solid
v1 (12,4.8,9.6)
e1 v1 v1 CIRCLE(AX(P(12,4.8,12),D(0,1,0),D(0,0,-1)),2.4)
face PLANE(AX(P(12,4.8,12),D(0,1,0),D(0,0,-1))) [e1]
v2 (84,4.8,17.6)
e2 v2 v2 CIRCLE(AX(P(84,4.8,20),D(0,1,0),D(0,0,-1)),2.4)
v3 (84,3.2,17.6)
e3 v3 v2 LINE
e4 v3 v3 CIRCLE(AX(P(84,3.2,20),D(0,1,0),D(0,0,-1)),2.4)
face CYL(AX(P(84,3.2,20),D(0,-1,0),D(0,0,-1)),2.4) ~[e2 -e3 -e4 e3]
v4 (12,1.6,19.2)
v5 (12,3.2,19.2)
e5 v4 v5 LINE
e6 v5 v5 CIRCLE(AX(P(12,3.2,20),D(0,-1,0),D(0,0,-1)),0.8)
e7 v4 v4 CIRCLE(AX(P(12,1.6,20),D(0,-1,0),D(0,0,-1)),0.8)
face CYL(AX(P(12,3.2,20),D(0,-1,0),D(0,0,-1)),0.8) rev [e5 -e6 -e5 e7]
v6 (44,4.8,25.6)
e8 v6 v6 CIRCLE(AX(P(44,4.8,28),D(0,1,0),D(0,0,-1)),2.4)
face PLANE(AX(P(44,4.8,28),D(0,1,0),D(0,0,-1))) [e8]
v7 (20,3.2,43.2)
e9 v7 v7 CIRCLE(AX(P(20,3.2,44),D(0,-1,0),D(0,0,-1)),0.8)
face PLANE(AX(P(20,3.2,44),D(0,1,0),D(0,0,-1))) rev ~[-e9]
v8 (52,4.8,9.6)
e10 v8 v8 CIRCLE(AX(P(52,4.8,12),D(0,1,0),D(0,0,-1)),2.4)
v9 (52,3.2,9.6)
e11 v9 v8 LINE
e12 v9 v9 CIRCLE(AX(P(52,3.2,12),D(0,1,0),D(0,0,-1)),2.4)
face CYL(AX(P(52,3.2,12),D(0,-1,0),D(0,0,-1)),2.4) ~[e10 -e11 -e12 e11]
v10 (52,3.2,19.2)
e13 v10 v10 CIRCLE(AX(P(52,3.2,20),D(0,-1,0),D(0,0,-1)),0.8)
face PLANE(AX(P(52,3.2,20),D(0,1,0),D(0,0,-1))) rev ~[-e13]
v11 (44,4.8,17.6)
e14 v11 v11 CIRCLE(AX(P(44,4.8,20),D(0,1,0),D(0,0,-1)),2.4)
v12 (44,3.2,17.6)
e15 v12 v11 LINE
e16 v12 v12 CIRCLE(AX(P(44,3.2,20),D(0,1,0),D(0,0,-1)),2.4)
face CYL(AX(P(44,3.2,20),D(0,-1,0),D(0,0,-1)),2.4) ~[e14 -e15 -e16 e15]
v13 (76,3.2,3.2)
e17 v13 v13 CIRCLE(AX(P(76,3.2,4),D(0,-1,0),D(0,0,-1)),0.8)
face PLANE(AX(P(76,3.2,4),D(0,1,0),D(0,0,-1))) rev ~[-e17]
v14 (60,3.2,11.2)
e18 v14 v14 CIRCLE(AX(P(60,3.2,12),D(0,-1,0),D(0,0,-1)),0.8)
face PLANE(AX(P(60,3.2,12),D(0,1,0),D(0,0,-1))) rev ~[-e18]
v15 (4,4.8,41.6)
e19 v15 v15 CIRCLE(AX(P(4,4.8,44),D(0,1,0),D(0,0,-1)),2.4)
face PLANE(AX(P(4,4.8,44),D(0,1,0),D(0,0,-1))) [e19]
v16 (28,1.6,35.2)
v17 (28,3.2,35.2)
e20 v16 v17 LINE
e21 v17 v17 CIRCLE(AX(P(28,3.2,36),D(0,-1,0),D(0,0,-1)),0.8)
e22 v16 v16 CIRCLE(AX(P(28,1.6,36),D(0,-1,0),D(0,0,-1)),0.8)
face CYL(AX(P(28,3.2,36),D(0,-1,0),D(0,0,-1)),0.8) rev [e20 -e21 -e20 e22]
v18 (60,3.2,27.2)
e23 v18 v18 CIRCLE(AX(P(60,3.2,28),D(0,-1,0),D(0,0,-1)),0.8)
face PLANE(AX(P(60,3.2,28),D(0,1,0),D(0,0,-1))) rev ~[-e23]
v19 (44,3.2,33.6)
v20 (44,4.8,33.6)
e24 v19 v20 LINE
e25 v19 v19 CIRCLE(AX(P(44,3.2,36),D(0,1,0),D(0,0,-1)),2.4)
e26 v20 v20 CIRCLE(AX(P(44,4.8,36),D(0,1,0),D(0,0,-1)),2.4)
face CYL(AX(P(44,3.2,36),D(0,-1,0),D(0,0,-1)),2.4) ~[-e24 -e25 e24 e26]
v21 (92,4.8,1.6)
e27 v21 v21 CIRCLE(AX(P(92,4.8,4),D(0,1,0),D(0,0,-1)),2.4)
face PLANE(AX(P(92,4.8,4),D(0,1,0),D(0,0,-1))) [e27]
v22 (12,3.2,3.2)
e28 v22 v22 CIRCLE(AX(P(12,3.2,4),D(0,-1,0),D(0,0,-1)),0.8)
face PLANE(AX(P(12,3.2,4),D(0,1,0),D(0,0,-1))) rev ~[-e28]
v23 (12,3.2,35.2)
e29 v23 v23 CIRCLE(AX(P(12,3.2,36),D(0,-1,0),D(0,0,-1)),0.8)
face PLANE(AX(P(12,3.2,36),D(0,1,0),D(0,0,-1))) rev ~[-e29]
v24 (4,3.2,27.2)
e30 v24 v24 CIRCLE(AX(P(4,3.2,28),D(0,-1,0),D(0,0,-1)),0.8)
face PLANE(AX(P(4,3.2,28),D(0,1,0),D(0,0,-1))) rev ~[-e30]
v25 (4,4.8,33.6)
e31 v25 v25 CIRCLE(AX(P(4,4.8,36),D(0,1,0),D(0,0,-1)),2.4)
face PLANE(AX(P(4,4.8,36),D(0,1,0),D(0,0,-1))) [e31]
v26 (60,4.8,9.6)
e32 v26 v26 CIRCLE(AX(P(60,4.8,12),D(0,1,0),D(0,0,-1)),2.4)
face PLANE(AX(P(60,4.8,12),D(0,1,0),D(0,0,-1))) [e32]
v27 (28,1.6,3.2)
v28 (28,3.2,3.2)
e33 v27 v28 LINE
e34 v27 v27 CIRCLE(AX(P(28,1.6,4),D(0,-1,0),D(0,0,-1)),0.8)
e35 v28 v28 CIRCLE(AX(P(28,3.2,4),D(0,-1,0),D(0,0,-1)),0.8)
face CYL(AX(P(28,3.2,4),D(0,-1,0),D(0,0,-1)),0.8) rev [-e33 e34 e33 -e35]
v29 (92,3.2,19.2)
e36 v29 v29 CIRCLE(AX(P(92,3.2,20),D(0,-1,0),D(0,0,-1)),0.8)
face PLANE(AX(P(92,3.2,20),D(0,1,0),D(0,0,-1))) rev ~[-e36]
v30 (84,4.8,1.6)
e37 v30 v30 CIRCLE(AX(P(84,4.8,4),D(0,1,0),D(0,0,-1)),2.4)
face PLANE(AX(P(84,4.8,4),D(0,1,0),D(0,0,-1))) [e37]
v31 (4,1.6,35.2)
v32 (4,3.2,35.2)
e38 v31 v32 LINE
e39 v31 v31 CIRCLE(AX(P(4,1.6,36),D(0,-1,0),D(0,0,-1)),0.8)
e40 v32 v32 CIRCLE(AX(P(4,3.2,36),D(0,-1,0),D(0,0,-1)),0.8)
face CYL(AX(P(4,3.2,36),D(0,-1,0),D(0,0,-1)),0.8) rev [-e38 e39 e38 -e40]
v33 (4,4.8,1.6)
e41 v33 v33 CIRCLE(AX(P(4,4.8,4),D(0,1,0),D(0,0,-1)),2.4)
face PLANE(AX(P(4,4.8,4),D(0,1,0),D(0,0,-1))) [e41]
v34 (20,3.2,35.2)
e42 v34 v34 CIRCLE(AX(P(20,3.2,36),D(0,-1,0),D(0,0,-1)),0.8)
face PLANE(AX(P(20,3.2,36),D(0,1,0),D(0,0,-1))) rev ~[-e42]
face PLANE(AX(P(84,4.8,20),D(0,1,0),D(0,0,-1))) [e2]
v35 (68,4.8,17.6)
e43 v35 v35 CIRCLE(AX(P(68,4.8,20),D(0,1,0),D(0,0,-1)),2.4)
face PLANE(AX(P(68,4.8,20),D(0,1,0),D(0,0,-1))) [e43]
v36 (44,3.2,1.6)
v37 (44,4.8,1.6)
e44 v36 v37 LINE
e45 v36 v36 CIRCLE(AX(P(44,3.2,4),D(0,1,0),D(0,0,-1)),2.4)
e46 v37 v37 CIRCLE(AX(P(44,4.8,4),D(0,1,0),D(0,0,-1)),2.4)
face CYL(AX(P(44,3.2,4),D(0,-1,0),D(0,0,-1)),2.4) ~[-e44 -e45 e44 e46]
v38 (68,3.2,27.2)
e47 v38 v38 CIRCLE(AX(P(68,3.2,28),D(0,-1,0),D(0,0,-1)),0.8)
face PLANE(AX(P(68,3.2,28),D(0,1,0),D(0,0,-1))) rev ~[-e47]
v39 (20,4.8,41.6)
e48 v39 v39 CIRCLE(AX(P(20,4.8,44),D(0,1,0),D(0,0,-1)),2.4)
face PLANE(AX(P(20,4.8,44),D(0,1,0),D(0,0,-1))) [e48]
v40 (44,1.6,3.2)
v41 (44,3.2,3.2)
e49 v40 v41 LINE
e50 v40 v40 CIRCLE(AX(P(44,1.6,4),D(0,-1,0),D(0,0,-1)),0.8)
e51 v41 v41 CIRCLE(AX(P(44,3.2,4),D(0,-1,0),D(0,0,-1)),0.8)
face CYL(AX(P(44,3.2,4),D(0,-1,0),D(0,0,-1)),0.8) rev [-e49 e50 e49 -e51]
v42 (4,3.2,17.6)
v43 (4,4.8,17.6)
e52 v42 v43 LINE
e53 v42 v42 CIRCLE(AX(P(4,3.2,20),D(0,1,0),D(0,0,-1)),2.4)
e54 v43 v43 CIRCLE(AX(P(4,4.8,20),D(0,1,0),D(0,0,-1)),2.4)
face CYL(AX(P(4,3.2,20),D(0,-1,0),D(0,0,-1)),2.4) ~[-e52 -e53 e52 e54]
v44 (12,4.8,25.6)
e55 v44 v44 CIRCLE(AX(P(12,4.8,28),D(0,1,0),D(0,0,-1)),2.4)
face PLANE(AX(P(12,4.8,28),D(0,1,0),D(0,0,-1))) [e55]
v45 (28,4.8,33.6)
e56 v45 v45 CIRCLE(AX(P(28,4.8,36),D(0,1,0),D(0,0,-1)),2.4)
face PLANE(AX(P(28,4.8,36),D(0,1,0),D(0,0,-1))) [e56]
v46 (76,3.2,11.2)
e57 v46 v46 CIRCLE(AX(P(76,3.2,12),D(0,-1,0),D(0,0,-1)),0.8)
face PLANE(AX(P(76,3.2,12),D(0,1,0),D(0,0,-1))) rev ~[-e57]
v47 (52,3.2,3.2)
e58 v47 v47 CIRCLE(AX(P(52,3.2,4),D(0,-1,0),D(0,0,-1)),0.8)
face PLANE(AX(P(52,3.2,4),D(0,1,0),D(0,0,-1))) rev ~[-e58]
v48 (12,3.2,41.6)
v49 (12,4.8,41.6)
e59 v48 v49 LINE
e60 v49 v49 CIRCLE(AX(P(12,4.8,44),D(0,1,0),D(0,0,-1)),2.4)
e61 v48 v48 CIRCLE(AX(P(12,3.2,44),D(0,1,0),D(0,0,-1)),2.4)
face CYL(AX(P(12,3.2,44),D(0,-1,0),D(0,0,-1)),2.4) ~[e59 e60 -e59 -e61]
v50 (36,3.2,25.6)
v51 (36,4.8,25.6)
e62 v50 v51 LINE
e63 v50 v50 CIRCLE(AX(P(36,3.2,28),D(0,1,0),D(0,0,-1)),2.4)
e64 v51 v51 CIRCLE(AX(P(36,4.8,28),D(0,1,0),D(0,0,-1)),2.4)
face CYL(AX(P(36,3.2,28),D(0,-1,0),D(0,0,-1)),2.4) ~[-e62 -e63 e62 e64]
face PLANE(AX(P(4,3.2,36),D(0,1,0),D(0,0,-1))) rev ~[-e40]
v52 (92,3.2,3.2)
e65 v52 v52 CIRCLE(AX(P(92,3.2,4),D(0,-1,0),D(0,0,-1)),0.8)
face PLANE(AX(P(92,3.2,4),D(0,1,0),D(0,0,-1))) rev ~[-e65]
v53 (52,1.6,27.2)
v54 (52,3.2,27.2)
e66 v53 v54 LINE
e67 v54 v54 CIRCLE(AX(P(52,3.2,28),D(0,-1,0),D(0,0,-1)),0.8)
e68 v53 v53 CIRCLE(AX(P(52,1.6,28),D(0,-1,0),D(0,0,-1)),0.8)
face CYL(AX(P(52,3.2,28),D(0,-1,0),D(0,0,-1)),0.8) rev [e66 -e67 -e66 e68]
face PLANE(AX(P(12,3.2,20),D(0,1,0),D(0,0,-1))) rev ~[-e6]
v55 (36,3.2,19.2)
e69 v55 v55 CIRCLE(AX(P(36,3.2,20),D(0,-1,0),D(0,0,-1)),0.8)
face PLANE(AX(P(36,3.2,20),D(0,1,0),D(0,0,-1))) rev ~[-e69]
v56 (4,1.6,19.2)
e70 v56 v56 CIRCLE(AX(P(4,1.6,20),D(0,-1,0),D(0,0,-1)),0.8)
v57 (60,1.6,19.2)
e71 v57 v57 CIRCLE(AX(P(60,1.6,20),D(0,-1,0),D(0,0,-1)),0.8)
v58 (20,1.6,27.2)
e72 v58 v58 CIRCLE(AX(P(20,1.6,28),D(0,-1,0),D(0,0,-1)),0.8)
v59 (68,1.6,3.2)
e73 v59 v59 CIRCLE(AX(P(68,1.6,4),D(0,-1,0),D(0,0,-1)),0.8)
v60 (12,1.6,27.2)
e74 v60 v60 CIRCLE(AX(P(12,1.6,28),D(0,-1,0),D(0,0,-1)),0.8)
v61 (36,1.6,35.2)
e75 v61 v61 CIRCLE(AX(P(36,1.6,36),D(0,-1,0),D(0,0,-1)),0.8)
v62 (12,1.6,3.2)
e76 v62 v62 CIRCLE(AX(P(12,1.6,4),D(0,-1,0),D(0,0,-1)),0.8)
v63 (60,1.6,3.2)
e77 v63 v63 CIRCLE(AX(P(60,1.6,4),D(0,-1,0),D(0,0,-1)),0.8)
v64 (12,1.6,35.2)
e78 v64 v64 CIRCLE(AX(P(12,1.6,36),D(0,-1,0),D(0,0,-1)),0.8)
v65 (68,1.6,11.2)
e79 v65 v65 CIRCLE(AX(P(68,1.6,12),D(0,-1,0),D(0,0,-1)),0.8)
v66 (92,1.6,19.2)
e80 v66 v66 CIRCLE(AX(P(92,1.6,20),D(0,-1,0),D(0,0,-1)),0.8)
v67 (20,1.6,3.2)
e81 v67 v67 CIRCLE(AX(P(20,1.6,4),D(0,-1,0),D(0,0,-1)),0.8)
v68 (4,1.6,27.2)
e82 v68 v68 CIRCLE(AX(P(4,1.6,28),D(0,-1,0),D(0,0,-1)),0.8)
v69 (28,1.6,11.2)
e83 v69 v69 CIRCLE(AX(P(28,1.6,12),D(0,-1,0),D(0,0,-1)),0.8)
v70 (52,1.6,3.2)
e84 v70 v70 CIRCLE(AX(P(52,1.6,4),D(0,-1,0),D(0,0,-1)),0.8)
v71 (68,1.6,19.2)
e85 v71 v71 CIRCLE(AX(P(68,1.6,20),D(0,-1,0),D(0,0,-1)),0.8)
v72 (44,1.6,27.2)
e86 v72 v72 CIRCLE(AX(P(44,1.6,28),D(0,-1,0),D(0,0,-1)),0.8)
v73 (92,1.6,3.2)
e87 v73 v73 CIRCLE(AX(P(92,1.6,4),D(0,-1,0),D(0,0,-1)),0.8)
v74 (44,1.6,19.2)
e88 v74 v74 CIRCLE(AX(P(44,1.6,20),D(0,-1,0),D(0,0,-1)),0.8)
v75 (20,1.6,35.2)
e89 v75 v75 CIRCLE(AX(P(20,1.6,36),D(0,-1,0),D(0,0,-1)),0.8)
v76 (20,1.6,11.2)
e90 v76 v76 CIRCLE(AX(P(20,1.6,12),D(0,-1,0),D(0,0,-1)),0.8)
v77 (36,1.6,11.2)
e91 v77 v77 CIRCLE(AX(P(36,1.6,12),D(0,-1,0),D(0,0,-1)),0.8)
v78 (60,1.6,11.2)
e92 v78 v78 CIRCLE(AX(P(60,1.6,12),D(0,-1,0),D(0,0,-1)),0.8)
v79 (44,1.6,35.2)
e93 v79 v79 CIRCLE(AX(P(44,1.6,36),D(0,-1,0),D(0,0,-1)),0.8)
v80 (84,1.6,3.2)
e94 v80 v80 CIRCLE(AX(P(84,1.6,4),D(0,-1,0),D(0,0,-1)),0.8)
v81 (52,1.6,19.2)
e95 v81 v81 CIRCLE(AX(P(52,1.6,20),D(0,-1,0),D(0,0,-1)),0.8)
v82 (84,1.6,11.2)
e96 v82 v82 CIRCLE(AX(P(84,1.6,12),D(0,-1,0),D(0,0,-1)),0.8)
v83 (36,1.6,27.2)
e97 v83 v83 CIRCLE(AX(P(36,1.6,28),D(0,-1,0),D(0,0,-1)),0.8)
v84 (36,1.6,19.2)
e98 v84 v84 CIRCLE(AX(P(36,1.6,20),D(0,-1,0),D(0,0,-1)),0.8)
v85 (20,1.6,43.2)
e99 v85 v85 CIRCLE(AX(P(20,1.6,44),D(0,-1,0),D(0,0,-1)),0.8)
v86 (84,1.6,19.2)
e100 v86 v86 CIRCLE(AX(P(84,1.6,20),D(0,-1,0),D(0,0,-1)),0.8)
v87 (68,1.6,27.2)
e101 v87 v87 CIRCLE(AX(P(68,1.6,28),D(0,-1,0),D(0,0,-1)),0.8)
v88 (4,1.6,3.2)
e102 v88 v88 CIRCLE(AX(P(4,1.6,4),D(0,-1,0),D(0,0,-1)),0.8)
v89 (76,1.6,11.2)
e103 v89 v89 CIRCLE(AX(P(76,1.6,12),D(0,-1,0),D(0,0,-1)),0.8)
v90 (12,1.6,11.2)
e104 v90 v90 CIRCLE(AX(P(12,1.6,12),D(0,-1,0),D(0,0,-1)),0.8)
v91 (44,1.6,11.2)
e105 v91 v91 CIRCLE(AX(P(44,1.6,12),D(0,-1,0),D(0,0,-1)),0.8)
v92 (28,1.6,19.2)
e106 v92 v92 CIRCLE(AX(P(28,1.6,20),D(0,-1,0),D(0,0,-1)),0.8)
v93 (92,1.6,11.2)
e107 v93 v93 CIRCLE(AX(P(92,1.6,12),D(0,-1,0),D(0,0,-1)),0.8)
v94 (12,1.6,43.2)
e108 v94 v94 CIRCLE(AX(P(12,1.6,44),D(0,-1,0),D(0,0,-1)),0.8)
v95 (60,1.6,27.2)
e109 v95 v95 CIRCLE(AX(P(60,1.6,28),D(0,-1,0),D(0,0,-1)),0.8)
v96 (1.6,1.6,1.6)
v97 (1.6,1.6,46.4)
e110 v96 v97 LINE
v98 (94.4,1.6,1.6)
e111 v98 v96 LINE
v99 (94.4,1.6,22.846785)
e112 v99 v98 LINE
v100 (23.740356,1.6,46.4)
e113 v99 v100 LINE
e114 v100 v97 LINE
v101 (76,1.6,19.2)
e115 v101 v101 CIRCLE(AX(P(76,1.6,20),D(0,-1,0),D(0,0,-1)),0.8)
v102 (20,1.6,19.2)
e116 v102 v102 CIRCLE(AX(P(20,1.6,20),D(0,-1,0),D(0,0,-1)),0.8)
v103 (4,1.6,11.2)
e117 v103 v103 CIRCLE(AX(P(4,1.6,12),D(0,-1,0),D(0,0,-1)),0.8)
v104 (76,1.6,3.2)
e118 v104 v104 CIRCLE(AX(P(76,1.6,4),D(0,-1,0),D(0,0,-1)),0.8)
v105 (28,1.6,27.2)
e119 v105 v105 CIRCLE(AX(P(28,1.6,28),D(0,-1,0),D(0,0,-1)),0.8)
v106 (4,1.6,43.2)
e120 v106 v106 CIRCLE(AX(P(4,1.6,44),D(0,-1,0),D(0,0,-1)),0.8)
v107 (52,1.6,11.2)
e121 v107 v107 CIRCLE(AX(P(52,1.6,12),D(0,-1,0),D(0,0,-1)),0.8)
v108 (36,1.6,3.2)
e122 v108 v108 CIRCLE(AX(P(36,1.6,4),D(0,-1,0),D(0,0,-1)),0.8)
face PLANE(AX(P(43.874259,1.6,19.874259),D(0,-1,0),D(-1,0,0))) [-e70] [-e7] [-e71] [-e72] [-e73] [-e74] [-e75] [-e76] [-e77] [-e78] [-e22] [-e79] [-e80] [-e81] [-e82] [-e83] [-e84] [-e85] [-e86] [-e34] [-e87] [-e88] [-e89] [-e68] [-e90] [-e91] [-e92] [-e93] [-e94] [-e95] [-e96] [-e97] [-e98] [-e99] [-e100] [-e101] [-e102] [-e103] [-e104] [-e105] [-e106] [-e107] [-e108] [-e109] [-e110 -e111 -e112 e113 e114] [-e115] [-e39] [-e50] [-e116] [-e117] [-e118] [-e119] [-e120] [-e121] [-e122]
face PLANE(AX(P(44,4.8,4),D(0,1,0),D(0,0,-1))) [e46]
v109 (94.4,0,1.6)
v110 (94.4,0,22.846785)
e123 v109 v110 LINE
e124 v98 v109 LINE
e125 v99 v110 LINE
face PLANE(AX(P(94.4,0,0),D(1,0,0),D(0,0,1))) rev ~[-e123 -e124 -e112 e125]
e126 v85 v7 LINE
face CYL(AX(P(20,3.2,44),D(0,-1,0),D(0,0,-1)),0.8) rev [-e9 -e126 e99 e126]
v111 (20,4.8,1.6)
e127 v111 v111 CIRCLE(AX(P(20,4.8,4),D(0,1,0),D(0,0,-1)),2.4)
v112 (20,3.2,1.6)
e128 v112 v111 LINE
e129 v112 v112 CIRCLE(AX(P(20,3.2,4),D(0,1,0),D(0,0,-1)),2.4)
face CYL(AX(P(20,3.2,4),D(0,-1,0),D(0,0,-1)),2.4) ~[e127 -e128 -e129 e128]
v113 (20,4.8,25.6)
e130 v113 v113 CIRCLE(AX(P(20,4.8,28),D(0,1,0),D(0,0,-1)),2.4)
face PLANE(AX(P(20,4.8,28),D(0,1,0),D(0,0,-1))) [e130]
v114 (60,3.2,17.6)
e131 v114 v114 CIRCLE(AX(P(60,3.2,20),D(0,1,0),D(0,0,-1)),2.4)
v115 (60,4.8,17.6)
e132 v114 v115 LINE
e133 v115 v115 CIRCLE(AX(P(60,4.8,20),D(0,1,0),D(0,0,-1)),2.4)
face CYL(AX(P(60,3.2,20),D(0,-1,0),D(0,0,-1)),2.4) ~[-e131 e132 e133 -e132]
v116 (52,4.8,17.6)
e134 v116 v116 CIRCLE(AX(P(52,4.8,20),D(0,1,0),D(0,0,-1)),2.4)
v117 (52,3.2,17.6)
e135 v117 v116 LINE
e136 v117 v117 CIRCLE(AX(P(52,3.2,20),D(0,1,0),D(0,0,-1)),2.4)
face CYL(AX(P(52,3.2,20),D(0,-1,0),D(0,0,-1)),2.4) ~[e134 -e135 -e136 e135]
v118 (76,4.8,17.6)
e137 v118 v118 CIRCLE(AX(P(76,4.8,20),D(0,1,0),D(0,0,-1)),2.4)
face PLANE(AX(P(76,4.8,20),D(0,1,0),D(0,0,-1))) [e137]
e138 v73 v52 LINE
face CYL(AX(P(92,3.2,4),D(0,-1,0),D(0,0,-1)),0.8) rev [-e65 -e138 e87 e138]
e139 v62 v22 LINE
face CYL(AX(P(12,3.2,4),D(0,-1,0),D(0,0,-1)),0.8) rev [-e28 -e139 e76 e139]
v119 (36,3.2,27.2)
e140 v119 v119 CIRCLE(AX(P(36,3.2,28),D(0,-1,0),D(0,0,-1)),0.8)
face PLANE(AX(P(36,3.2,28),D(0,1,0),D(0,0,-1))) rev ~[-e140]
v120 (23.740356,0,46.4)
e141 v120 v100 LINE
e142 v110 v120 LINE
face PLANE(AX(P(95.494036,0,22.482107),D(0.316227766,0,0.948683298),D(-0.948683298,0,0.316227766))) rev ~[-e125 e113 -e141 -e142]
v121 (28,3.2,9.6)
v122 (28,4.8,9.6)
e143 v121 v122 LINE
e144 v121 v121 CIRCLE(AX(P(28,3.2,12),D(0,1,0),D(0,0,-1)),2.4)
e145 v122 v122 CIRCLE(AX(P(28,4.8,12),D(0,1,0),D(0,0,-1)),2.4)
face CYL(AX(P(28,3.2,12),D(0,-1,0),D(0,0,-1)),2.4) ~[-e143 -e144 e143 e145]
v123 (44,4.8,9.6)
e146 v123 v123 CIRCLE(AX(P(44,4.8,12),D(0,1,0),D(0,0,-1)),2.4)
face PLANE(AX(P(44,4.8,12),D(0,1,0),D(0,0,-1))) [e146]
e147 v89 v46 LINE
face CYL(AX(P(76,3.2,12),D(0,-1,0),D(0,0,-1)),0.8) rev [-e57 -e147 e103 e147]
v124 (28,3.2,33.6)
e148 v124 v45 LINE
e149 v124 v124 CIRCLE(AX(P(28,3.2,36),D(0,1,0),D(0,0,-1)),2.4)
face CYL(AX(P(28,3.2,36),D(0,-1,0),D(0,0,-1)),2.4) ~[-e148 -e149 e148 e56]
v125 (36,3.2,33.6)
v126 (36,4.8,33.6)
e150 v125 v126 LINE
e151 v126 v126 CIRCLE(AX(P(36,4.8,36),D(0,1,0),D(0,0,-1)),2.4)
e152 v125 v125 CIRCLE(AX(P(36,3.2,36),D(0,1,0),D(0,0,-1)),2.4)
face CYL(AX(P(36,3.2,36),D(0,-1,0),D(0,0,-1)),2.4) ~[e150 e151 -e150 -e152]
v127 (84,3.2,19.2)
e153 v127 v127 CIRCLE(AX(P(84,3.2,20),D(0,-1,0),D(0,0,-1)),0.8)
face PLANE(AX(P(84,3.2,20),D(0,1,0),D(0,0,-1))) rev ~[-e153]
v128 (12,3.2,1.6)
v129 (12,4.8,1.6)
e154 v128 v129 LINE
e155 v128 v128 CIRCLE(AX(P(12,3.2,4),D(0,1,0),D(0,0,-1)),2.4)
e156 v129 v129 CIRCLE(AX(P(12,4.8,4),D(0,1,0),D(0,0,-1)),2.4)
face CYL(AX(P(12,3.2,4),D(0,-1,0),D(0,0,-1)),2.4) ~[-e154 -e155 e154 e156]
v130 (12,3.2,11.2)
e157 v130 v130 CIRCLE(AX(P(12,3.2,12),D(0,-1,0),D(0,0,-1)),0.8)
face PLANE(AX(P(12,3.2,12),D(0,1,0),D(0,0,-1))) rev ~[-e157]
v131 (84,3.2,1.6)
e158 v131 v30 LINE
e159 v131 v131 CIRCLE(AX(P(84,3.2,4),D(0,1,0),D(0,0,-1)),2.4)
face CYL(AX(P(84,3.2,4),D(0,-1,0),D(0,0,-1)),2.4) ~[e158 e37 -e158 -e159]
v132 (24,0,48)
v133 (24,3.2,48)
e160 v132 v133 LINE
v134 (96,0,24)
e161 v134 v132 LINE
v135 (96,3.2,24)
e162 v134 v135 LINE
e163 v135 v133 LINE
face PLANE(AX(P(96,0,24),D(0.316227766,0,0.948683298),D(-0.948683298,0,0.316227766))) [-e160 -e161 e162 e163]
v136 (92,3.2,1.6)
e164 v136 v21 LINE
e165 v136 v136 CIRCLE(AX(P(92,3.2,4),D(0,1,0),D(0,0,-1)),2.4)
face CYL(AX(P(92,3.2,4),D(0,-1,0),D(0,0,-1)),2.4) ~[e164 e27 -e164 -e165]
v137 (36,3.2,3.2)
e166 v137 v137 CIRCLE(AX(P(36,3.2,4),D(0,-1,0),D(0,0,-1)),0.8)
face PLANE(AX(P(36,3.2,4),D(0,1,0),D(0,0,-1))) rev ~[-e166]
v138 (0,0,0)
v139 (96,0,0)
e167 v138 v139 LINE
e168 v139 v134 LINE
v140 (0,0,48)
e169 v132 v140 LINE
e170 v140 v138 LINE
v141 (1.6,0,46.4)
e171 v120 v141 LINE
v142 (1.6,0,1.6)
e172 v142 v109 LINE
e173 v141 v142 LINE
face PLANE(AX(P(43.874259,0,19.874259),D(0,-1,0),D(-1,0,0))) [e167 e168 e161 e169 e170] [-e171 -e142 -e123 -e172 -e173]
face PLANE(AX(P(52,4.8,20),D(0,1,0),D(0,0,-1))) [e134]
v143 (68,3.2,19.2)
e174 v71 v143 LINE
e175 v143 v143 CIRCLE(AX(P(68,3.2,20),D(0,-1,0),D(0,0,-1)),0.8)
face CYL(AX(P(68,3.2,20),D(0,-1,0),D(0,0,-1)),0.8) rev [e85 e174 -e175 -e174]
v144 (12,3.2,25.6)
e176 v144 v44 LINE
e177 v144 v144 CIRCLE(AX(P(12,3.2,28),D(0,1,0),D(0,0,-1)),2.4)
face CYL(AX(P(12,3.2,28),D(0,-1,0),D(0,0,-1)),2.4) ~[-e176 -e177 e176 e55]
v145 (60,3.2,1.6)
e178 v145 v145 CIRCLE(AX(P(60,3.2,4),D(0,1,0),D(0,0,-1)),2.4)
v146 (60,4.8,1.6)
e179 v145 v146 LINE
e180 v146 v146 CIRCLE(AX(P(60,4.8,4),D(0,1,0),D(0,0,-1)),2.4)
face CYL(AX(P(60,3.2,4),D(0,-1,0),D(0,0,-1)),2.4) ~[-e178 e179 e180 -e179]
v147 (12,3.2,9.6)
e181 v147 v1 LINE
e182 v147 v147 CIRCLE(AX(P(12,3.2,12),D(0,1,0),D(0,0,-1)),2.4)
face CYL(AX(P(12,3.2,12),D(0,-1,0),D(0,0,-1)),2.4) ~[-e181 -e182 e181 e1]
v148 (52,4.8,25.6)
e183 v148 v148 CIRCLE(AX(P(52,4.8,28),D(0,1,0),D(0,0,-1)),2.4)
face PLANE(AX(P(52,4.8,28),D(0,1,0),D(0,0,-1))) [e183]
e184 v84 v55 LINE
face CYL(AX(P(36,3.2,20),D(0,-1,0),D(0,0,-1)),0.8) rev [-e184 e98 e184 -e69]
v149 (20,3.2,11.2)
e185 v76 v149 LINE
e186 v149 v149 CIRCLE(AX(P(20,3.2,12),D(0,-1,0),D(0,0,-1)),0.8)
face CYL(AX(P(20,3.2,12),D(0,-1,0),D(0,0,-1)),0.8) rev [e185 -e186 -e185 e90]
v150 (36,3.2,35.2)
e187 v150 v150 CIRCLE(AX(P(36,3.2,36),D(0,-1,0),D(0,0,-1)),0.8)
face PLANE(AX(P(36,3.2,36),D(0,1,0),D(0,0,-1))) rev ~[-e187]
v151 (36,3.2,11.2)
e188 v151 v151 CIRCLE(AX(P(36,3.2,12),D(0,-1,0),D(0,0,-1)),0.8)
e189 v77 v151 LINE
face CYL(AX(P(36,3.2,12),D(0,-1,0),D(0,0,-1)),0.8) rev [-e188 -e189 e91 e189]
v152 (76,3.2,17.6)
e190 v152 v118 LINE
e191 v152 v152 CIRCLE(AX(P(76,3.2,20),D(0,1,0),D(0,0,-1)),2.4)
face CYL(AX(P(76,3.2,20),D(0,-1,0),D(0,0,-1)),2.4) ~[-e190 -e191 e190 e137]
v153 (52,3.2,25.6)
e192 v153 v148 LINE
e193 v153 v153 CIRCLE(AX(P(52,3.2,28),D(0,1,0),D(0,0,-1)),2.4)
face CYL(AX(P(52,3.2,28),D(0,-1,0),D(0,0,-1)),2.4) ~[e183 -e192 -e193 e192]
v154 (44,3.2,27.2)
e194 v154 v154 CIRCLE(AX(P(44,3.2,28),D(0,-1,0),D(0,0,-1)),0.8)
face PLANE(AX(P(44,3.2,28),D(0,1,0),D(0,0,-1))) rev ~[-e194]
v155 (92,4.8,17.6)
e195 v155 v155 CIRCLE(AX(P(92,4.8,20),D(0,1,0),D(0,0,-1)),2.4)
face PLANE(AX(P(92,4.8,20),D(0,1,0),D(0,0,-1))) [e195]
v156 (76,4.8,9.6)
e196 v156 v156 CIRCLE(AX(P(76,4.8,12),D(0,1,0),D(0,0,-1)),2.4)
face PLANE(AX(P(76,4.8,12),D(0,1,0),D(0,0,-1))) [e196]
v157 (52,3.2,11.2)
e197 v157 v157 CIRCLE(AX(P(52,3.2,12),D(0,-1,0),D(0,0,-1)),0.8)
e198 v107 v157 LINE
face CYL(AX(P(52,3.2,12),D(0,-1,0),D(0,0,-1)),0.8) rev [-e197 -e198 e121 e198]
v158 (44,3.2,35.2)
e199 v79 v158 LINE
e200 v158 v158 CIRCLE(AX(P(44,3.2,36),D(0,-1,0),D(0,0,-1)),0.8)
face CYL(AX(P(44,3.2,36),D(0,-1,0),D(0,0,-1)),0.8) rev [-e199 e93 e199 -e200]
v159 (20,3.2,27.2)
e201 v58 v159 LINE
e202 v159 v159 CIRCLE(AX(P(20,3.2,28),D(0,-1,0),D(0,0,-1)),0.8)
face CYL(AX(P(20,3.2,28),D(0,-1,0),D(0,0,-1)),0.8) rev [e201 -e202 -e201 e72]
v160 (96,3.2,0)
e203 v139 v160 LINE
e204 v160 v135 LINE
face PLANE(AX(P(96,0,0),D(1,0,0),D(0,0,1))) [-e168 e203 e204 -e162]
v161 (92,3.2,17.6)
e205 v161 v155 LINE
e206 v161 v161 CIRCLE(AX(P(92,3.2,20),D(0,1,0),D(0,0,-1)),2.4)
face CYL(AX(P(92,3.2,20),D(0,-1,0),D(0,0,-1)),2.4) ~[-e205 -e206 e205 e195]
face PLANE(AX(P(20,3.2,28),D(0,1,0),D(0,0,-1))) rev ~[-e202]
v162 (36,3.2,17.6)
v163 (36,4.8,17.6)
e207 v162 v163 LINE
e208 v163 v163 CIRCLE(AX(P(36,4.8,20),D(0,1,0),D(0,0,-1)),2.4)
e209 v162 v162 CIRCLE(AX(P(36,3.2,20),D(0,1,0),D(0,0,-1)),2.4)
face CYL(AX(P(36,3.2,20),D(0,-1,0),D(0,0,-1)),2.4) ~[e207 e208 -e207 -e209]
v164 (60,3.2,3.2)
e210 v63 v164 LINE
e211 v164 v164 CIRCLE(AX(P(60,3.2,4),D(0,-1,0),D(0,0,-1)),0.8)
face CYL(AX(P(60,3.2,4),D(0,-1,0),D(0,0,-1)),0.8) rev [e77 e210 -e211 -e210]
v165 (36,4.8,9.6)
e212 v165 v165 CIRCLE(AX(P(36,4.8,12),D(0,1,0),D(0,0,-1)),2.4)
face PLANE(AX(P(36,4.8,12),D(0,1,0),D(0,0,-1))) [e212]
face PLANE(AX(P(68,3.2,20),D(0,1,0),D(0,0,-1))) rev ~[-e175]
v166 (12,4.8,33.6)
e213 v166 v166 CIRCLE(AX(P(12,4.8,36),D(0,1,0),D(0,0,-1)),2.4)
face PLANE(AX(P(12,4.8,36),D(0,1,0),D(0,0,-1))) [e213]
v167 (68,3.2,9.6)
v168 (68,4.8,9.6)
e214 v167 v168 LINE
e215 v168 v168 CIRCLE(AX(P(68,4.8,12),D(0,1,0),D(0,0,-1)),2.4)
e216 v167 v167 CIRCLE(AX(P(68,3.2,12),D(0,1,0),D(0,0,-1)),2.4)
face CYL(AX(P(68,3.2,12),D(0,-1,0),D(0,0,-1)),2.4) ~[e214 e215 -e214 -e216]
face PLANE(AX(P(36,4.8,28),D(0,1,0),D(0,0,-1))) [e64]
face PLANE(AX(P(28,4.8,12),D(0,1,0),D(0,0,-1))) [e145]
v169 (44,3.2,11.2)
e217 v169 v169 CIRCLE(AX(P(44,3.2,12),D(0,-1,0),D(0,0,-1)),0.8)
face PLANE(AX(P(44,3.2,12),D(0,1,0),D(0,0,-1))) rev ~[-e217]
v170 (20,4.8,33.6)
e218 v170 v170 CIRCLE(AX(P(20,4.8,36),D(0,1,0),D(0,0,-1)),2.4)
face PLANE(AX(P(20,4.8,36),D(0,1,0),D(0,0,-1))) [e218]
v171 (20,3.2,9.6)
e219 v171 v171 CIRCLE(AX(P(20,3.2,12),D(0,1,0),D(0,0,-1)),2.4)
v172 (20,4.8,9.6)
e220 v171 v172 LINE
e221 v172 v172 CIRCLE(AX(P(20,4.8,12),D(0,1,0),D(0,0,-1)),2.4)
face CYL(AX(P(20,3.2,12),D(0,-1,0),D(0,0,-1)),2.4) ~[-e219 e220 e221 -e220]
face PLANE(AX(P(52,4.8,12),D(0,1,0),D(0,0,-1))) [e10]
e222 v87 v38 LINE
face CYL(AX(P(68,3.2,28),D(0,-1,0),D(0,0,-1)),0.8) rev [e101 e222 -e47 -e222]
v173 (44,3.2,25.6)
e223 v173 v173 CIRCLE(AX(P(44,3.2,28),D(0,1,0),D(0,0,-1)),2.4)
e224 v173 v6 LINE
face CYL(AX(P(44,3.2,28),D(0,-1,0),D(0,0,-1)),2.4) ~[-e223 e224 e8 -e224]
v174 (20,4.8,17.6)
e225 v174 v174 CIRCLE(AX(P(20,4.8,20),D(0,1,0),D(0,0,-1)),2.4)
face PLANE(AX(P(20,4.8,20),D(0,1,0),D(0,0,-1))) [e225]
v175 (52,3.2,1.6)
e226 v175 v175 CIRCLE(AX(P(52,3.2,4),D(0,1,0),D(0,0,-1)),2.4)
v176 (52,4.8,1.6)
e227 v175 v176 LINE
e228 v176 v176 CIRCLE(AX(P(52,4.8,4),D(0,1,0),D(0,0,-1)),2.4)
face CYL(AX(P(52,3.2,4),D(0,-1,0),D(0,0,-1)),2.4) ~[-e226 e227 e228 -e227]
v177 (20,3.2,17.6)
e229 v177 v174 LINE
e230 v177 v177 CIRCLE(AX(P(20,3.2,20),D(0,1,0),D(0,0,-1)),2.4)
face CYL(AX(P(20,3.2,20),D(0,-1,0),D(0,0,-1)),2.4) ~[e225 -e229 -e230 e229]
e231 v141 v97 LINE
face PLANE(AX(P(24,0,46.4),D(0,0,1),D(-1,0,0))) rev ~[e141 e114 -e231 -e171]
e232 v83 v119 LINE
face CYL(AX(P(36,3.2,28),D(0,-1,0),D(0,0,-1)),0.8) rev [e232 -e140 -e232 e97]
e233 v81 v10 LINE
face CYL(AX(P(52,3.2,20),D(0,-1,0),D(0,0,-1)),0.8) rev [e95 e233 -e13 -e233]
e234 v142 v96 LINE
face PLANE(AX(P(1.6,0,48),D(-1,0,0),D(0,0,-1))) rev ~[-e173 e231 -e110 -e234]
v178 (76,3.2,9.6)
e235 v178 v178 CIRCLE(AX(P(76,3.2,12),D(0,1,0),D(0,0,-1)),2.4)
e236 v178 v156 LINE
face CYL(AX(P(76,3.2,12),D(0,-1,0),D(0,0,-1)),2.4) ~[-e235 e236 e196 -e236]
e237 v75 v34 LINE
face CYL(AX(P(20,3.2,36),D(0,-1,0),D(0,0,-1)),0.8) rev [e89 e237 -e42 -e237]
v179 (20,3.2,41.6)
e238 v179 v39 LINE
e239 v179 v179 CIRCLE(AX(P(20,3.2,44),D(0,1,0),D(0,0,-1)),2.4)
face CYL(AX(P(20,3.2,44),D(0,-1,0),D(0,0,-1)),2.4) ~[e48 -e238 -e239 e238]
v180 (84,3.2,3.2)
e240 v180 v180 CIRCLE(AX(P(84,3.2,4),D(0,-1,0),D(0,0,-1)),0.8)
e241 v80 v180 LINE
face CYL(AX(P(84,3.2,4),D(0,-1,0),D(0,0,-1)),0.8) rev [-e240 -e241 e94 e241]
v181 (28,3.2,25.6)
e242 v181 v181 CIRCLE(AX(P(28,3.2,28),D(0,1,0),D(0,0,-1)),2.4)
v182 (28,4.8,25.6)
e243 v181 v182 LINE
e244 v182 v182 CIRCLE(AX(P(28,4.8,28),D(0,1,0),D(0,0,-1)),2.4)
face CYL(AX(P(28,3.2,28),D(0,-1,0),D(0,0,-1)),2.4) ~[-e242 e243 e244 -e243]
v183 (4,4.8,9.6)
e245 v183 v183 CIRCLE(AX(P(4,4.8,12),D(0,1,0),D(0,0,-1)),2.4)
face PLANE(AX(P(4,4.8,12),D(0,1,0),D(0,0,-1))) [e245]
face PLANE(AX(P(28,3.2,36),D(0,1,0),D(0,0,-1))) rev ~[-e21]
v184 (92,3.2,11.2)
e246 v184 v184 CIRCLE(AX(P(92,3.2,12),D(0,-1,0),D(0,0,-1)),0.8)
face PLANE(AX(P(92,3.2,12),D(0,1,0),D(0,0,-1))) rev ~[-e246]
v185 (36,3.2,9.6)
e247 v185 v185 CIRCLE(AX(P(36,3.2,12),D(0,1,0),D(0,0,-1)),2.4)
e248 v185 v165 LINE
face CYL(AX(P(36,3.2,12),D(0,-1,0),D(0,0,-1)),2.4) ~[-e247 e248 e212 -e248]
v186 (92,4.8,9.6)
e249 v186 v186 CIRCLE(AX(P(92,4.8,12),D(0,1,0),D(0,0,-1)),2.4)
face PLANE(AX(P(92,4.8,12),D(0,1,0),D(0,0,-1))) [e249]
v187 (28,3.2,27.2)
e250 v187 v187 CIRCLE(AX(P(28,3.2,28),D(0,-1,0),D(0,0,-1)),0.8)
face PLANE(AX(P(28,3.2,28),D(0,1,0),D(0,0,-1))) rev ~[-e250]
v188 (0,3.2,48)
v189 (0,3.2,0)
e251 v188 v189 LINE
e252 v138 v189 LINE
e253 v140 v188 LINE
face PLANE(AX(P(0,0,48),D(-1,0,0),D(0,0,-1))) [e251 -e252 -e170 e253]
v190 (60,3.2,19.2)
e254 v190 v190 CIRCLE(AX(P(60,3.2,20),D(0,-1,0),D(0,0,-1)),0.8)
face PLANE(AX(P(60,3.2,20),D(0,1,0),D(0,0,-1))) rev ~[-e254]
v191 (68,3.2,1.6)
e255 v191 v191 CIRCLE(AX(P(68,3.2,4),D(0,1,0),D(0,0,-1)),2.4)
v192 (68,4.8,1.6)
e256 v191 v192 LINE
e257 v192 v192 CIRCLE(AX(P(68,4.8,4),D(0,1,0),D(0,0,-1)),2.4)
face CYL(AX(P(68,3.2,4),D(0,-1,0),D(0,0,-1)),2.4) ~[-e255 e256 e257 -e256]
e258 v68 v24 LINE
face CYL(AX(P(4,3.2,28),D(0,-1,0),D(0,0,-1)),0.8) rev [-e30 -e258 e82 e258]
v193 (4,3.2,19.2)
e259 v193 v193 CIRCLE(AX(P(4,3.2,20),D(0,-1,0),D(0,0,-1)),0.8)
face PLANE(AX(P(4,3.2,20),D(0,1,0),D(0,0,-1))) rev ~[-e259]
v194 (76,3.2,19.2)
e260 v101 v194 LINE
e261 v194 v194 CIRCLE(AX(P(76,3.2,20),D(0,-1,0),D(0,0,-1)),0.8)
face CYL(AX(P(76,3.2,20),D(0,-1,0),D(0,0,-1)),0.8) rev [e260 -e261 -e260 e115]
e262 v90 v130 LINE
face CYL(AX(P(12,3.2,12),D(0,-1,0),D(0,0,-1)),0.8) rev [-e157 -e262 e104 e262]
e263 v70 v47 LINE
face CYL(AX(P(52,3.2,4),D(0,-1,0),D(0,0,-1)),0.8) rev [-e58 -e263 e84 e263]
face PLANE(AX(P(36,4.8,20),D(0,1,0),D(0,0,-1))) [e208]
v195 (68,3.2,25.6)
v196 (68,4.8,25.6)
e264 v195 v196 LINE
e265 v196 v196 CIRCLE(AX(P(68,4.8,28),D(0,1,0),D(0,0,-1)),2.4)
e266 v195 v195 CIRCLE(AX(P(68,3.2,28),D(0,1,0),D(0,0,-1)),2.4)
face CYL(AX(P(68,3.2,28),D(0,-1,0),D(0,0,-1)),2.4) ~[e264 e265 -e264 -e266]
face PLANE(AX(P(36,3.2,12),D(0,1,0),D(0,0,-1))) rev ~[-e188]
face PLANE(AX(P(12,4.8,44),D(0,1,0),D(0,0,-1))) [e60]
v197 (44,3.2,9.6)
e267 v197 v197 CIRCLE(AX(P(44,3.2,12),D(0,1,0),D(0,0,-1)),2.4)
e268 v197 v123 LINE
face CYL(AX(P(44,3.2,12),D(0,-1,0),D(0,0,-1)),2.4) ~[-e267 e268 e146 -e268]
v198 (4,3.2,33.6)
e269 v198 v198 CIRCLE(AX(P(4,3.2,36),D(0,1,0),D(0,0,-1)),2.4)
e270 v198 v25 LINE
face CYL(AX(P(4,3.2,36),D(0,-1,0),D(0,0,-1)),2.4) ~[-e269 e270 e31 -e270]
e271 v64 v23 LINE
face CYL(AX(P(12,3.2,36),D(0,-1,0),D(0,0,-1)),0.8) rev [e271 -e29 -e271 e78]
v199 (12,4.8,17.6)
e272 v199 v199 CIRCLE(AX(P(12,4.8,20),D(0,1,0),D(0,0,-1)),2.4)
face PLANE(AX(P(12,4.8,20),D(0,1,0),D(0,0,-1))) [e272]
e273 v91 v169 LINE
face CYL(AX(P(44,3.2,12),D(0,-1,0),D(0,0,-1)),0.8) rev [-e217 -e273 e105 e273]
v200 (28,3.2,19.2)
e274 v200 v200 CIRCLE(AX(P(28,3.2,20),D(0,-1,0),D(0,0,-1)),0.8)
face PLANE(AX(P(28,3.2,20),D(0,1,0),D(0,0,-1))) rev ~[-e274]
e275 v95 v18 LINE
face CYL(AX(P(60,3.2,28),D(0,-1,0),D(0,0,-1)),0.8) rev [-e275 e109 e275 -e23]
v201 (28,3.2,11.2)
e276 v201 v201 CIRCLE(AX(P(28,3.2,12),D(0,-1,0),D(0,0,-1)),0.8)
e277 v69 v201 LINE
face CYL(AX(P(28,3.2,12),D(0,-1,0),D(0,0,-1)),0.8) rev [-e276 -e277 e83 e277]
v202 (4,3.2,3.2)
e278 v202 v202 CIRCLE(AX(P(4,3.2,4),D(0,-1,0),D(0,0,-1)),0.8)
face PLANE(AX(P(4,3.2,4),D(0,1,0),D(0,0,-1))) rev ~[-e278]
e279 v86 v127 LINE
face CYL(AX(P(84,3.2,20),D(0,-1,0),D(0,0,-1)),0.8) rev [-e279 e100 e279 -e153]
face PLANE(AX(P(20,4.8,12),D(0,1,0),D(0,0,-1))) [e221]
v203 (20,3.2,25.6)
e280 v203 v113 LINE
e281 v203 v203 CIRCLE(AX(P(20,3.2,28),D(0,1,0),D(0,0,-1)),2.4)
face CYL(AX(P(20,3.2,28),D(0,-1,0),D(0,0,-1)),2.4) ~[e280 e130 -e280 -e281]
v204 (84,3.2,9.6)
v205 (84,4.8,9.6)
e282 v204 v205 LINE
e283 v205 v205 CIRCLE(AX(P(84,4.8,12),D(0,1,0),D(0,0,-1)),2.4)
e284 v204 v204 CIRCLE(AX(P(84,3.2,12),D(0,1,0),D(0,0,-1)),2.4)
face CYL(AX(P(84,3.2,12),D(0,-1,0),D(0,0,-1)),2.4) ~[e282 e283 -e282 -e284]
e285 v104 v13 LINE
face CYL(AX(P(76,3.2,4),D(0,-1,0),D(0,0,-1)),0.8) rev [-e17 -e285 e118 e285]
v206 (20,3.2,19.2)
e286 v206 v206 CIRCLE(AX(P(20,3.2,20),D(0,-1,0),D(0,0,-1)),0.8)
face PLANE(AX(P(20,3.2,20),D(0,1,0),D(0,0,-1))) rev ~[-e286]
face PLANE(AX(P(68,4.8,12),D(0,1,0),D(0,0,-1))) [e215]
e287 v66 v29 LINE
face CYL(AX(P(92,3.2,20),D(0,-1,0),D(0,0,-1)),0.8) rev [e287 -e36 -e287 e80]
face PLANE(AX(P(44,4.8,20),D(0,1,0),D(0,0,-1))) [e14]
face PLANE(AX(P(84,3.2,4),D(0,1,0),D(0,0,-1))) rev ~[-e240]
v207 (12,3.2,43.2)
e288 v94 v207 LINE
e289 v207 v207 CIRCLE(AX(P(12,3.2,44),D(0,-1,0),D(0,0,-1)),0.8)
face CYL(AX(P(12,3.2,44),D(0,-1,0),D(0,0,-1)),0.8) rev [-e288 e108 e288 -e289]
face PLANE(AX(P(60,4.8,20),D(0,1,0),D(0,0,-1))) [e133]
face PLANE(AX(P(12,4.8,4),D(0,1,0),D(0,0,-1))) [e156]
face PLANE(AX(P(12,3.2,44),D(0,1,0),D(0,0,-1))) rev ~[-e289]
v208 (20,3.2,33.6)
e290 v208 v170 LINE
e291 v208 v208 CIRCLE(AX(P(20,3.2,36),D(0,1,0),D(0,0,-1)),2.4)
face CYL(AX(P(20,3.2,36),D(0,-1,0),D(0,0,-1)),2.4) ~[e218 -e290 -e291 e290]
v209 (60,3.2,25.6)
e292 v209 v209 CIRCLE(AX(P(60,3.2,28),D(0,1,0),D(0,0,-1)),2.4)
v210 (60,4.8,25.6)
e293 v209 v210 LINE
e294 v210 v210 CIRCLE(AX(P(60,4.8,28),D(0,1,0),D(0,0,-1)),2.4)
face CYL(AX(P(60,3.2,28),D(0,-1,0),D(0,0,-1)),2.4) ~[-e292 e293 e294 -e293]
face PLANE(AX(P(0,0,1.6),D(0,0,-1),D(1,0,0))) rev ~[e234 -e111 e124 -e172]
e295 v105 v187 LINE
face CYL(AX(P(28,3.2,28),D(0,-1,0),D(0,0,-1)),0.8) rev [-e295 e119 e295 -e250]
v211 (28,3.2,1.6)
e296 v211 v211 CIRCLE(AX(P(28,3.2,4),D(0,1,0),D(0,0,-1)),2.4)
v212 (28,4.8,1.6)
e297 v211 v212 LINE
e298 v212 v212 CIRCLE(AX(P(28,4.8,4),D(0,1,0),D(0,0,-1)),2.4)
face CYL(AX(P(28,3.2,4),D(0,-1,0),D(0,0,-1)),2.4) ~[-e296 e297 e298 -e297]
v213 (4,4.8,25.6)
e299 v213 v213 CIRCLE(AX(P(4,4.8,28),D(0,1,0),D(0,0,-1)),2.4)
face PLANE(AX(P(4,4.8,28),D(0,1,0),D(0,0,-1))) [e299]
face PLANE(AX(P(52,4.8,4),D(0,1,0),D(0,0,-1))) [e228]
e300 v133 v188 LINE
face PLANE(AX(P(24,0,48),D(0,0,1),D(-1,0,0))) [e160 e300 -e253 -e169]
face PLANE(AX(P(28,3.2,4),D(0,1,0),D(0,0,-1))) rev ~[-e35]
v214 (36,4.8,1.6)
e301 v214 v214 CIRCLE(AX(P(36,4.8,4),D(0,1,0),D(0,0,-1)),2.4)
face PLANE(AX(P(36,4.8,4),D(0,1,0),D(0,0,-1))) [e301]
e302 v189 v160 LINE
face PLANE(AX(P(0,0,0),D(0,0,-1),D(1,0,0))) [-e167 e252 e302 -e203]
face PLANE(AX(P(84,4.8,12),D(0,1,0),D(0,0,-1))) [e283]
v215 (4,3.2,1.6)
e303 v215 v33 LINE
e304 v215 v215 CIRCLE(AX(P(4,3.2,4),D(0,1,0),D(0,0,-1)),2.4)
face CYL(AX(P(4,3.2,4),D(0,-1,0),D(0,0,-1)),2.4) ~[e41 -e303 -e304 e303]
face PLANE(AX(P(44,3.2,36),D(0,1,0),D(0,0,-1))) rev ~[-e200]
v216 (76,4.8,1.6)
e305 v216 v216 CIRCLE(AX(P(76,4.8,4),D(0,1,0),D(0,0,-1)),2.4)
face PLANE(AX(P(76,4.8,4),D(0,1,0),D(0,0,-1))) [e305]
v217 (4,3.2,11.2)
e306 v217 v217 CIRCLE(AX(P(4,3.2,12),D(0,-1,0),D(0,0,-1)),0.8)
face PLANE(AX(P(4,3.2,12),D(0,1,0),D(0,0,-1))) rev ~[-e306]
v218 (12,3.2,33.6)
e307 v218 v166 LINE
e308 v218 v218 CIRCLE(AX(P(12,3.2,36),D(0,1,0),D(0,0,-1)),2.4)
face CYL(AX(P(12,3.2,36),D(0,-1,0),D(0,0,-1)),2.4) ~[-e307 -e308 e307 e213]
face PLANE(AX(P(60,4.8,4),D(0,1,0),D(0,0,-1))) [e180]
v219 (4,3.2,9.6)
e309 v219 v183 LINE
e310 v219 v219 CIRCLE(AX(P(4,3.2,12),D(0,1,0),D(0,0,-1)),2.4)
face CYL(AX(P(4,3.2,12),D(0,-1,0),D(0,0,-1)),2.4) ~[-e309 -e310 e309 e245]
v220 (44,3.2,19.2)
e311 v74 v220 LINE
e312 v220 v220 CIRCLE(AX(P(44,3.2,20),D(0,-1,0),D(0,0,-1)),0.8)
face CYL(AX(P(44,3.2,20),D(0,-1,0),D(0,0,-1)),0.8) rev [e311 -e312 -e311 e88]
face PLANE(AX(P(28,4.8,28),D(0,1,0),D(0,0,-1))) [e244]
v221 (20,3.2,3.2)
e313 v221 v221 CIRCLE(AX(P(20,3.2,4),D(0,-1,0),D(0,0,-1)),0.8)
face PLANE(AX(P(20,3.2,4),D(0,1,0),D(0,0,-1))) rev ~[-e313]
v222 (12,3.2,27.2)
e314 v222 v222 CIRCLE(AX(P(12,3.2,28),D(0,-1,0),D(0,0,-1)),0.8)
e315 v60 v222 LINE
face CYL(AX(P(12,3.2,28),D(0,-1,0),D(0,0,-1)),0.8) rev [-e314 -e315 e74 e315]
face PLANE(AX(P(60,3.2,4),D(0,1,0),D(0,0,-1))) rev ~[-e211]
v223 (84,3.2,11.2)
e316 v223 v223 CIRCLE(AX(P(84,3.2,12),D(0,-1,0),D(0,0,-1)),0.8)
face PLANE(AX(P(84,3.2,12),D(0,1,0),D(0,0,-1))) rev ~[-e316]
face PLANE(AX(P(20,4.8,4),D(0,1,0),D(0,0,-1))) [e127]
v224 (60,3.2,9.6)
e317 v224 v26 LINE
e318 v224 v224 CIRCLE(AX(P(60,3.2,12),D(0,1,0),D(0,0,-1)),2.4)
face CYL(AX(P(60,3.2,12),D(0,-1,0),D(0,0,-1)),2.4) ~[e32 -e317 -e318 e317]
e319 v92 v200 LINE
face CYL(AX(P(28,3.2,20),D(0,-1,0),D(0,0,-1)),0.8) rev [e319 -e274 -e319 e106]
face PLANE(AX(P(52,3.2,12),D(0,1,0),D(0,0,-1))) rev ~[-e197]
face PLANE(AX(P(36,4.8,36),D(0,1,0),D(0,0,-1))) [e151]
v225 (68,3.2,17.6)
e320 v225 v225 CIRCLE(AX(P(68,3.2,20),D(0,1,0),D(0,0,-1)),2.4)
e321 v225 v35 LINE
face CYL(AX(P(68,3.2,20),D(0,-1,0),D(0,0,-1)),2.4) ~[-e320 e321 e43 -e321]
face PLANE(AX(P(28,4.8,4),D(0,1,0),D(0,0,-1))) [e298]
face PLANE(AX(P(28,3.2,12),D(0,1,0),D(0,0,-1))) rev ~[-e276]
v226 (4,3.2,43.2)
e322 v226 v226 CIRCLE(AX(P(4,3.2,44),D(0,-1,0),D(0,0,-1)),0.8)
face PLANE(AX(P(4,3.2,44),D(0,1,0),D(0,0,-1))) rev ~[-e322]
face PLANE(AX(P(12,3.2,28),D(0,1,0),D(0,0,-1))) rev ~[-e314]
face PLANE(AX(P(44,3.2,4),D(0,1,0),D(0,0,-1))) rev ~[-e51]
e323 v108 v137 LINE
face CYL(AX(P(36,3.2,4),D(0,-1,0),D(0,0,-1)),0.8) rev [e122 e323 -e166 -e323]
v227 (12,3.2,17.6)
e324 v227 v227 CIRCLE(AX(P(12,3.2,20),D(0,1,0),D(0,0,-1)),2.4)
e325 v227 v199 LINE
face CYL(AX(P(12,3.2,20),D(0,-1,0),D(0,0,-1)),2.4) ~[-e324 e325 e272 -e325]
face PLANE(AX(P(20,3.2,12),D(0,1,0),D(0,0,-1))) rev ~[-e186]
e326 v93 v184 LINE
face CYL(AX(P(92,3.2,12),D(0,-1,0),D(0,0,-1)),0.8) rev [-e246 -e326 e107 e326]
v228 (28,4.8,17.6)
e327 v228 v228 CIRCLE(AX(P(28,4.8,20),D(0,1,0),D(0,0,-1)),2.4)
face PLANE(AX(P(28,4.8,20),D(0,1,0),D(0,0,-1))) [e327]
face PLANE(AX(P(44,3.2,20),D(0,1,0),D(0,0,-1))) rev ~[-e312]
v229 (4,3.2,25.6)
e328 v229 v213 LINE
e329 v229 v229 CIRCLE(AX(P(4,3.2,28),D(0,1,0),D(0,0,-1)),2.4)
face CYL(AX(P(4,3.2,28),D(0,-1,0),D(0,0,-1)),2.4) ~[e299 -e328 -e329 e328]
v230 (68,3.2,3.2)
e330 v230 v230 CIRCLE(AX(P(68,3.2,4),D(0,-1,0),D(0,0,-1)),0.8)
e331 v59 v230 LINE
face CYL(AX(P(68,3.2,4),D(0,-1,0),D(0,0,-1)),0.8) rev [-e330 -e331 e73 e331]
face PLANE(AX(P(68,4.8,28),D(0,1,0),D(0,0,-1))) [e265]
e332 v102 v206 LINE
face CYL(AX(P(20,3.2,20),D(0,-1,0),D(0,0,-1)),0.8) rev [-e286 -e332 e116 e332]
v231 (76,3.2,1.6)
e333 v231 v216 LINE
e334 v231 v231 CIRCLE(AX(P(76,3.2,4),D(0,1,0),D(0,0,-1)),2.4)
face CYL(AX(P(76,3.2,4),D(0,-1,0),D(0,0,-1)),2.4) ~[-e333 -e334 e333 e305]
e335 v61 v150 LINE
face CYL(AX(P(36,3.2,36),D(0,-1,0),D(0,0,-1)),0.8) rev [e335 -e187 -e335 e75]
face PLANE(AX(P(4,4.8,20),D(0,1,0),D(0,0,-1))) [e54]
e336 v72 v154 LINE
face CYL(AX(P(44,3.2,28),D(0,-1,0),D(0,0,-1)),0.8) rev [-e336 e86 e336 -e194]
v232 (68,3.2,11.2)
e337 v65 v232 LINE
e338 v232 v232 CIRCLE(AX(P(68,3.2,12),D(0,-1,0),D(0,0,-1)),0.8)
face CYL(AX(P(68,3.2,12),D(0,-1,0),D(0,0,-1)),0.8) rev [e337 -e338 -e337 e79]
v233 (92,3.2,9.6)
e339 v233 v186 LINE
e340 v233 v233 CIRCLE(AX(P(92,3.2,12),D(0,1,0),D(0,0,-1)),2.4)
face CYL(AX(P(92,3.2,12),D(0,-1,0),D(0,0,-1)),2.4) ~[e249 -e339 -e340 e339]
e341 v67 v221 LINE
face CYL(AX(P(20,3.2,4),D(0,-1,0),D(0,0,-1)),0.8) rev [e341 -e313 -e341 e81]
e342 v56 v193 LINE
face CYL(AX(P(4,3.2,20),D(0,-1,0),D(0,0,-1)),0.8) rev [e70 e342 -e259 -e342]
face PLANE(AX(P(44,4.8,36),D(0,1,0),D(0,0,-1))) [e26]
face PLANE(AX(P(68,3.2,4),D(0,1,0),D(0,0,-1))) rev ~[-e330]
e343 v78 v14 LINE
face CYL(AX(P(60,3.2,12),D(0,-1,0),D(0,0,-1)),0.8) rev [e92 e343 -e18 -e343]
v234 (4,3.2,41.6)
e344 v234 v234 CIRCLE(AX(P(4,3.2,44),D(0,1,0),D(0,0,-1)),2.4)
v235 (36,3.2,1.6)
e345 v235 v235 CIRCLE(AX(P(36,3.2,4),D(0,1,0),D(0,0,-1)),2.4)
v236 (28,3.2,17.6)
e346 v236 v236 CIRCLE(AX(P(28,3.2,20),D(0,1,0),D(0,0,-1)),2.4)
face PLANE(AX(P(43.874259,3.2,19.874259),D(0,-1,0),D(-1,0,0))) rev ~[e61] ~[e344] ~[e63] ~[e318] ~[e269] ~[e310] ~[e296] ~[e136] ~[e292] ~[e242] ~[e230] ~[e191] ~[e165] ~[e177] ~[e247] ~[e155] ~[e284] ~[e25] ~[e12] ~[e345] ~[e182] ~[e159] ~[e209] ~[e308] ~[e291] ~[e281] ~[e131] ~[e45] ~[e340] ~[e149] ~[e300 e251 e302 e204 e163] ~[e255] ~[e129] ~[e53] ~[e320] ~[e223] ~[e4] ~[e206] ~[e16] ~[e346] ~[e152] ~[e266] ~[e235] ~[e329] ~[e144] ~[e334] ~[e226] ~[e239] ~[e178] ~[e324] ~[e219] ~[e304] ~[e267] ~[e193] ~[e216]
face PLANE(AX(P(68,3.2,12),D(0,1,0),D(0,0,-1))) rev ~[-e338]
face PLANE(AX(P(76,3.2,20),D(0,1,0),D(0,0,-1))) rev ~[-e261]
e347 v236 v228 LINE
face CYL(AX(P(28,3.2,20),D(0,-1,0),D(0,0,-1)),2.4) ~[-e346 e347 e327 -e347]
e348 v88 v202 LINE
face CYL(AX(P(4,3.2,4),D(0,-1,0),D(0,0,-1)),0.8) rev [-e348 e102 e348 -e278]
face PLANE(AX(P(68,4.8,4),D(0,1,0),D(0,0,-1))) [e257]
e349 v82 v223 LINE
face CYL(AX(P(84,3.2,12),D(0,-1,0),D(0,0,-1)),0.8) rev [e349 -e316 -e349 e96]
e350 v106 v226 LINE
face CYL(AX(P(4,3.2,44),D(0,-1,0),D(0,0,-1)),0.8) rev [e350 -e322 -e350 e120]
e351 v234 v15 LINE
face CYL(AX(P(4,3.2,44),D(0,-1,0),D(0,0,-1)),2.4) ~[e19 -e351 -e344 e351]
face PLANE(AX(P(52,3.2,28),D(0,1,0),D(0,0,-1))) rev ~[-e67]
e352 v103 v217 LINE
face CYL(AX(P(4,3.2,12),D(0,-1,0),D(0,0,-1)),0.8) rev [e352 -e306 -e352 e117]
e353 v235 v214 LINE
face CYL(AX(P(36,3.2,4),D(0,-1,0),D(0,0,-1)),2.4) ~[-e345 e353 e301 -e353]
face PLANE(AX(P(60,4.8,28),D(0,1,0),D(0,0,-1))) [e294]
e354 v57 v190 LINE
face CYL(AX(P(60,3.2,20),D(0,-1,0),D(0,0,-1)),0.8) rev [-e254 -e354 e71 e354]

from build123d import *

# Parameters (mm, degrees)
BOSS_EXTRUDE1_DEPTH  = 3.2
SKETCH2_R            = 2.4
BOSS_EXTRUDE2_DEPTH  = 1.6
LPATTERN1_COUNT      = 12
LPATTERN1_PITCH      = 8
LPATTERN1_COUNT_DIR2 = 3
LPATTERN1_PITCH_DIR2 = 8
SKETCH3_R            = 2.4
BOSS_EXTRUDE3_DEPTH  = 1.6
LPATTERN2_COUNT      = 9
LPATTERN2_PITCH      = 8
SKETCH4_R            = 2.4
BOSS_EXTRUDE4_DEPTH  = 1.6
LPATTERN3_COUNT      = 6
LPATTERN3_PITCH      = 8
SKETCH5_R            = 2.4
BOSS_EXTRUDE5_DEPTH  = 1.6
LPATTERN4_COUNT      = 3
LPATTERN4_PITCH      = 8
SHELL1_T             = -1.6


with BuildPart() as part:
    # Sketch1 → Boss-Extrude1 (new body)
    with BuildSketch(Plane(origin=(0, 0, 0), x_dir=(1, 0, 0), z_dir=(0, 1, 0))):
        Polygon((0, 0), (96, 0), (96, -24), (24, -48), (0, -48), align=None)
    extrude(amount=BOSS_EXTRUDE1_DEPTH)

    # Sketch2 → Boss-Extrude2 (add)
    with BuildSketch(Plane(origin=(0, 3.2, 0), x_dir=(1, 0, 0), z_dir=(0, 1, 0))):
        with Locations(Location((4, -4, 0), (0, 0, 90))):
            Circle(SKETCH2_R)
    boss_extrude2 = extrude(amount=BOSS_EXTRUDE2_DEPTH)

    # LPattern1: Boss-Extrude2 12 × 3
    with Locations(*[(i * LPATTERN1_PITCH, 0, j * LPATTERN1_PITCH_DIR2) for i in range(LPATTERN1_COUNT) for j in range(LPATTERN1_COUNT_DIR2) if (i, j) != (0, 0)]):
        add(boss_extrude2)

    # Sketch3 → Boss-Extrude3 (add)
    with BuildSketch(Plane(origin=(0, 3.2, 0), x_dir=(1, 0, 0), z_dir=(0, 1, 0))):
        with Locations(Location((4, -28, 0), (0, 0, 90))):
            Circle(SKETCH3_R)
    boss_extrude3 = extrude(amount=BOSS_EXTRUDE3_DEPTH)

    # LPattern2: Boss-Extrude3 ×9
    with Locations(*[(i * LPATTERN2_PITCH, 0, 0) for i in range(1, LPATTERN2_COUNT)]):
        add(boss_extrude3)

    # Sketch4 → Boss-Extrude4 (add)
    with BuildSketch(Plane(origin=(0, 3.2, 0), x_dir=(1, 0, 0), z_dir=(0, 1, 0))):
        with Locations(Location((4, -36, 0), (0, 0, 90))):
            Circle(SKETCH4_R)
    boss_extrude4 = extrude(amount=BOSS_EXTRUDE4_DEPTH)

    # LPattern3: Boss-Extrude4 ×6
    with Locations(*[(i * LPATTERN3_PITCH, 0, 0) for i in range(1, LPATTERN3_COUNT)]):
        add(boss_extrude4)

    # Sketch5 → Boss-Extrude5 (add)
    with BuildSketch(Plane(origin=(0, 3.2, 0), x_dir=(1, 0, 0), z_dir=(0, 1, 0))):
        with Locations(Location((4, -44, 0), (0, 0, 90))):
            Circle(SKETCH5_R)
    boss_extrude5 = extrude(amount=BOSS_EXTRUDE5_DEPTH)

    # LPattern4: Boss-Extrude5 ×3
    with Locations(*[(i * LPATTERN4_PITCH, 0, 0) for i in range(1, LPATTERN4_COUNT)]):
        add(boss_extrude5)

    # Shell1
    shell1_openings = [part.faces().sort_by_distance(p)[0] for p in [
        (42.461538462, 0, 20.307692308),
    ]]
    offset(amount=SHELL1_T, openings=shell1_openings, kind=Kind.INTERSECTION)


solid = part.part
